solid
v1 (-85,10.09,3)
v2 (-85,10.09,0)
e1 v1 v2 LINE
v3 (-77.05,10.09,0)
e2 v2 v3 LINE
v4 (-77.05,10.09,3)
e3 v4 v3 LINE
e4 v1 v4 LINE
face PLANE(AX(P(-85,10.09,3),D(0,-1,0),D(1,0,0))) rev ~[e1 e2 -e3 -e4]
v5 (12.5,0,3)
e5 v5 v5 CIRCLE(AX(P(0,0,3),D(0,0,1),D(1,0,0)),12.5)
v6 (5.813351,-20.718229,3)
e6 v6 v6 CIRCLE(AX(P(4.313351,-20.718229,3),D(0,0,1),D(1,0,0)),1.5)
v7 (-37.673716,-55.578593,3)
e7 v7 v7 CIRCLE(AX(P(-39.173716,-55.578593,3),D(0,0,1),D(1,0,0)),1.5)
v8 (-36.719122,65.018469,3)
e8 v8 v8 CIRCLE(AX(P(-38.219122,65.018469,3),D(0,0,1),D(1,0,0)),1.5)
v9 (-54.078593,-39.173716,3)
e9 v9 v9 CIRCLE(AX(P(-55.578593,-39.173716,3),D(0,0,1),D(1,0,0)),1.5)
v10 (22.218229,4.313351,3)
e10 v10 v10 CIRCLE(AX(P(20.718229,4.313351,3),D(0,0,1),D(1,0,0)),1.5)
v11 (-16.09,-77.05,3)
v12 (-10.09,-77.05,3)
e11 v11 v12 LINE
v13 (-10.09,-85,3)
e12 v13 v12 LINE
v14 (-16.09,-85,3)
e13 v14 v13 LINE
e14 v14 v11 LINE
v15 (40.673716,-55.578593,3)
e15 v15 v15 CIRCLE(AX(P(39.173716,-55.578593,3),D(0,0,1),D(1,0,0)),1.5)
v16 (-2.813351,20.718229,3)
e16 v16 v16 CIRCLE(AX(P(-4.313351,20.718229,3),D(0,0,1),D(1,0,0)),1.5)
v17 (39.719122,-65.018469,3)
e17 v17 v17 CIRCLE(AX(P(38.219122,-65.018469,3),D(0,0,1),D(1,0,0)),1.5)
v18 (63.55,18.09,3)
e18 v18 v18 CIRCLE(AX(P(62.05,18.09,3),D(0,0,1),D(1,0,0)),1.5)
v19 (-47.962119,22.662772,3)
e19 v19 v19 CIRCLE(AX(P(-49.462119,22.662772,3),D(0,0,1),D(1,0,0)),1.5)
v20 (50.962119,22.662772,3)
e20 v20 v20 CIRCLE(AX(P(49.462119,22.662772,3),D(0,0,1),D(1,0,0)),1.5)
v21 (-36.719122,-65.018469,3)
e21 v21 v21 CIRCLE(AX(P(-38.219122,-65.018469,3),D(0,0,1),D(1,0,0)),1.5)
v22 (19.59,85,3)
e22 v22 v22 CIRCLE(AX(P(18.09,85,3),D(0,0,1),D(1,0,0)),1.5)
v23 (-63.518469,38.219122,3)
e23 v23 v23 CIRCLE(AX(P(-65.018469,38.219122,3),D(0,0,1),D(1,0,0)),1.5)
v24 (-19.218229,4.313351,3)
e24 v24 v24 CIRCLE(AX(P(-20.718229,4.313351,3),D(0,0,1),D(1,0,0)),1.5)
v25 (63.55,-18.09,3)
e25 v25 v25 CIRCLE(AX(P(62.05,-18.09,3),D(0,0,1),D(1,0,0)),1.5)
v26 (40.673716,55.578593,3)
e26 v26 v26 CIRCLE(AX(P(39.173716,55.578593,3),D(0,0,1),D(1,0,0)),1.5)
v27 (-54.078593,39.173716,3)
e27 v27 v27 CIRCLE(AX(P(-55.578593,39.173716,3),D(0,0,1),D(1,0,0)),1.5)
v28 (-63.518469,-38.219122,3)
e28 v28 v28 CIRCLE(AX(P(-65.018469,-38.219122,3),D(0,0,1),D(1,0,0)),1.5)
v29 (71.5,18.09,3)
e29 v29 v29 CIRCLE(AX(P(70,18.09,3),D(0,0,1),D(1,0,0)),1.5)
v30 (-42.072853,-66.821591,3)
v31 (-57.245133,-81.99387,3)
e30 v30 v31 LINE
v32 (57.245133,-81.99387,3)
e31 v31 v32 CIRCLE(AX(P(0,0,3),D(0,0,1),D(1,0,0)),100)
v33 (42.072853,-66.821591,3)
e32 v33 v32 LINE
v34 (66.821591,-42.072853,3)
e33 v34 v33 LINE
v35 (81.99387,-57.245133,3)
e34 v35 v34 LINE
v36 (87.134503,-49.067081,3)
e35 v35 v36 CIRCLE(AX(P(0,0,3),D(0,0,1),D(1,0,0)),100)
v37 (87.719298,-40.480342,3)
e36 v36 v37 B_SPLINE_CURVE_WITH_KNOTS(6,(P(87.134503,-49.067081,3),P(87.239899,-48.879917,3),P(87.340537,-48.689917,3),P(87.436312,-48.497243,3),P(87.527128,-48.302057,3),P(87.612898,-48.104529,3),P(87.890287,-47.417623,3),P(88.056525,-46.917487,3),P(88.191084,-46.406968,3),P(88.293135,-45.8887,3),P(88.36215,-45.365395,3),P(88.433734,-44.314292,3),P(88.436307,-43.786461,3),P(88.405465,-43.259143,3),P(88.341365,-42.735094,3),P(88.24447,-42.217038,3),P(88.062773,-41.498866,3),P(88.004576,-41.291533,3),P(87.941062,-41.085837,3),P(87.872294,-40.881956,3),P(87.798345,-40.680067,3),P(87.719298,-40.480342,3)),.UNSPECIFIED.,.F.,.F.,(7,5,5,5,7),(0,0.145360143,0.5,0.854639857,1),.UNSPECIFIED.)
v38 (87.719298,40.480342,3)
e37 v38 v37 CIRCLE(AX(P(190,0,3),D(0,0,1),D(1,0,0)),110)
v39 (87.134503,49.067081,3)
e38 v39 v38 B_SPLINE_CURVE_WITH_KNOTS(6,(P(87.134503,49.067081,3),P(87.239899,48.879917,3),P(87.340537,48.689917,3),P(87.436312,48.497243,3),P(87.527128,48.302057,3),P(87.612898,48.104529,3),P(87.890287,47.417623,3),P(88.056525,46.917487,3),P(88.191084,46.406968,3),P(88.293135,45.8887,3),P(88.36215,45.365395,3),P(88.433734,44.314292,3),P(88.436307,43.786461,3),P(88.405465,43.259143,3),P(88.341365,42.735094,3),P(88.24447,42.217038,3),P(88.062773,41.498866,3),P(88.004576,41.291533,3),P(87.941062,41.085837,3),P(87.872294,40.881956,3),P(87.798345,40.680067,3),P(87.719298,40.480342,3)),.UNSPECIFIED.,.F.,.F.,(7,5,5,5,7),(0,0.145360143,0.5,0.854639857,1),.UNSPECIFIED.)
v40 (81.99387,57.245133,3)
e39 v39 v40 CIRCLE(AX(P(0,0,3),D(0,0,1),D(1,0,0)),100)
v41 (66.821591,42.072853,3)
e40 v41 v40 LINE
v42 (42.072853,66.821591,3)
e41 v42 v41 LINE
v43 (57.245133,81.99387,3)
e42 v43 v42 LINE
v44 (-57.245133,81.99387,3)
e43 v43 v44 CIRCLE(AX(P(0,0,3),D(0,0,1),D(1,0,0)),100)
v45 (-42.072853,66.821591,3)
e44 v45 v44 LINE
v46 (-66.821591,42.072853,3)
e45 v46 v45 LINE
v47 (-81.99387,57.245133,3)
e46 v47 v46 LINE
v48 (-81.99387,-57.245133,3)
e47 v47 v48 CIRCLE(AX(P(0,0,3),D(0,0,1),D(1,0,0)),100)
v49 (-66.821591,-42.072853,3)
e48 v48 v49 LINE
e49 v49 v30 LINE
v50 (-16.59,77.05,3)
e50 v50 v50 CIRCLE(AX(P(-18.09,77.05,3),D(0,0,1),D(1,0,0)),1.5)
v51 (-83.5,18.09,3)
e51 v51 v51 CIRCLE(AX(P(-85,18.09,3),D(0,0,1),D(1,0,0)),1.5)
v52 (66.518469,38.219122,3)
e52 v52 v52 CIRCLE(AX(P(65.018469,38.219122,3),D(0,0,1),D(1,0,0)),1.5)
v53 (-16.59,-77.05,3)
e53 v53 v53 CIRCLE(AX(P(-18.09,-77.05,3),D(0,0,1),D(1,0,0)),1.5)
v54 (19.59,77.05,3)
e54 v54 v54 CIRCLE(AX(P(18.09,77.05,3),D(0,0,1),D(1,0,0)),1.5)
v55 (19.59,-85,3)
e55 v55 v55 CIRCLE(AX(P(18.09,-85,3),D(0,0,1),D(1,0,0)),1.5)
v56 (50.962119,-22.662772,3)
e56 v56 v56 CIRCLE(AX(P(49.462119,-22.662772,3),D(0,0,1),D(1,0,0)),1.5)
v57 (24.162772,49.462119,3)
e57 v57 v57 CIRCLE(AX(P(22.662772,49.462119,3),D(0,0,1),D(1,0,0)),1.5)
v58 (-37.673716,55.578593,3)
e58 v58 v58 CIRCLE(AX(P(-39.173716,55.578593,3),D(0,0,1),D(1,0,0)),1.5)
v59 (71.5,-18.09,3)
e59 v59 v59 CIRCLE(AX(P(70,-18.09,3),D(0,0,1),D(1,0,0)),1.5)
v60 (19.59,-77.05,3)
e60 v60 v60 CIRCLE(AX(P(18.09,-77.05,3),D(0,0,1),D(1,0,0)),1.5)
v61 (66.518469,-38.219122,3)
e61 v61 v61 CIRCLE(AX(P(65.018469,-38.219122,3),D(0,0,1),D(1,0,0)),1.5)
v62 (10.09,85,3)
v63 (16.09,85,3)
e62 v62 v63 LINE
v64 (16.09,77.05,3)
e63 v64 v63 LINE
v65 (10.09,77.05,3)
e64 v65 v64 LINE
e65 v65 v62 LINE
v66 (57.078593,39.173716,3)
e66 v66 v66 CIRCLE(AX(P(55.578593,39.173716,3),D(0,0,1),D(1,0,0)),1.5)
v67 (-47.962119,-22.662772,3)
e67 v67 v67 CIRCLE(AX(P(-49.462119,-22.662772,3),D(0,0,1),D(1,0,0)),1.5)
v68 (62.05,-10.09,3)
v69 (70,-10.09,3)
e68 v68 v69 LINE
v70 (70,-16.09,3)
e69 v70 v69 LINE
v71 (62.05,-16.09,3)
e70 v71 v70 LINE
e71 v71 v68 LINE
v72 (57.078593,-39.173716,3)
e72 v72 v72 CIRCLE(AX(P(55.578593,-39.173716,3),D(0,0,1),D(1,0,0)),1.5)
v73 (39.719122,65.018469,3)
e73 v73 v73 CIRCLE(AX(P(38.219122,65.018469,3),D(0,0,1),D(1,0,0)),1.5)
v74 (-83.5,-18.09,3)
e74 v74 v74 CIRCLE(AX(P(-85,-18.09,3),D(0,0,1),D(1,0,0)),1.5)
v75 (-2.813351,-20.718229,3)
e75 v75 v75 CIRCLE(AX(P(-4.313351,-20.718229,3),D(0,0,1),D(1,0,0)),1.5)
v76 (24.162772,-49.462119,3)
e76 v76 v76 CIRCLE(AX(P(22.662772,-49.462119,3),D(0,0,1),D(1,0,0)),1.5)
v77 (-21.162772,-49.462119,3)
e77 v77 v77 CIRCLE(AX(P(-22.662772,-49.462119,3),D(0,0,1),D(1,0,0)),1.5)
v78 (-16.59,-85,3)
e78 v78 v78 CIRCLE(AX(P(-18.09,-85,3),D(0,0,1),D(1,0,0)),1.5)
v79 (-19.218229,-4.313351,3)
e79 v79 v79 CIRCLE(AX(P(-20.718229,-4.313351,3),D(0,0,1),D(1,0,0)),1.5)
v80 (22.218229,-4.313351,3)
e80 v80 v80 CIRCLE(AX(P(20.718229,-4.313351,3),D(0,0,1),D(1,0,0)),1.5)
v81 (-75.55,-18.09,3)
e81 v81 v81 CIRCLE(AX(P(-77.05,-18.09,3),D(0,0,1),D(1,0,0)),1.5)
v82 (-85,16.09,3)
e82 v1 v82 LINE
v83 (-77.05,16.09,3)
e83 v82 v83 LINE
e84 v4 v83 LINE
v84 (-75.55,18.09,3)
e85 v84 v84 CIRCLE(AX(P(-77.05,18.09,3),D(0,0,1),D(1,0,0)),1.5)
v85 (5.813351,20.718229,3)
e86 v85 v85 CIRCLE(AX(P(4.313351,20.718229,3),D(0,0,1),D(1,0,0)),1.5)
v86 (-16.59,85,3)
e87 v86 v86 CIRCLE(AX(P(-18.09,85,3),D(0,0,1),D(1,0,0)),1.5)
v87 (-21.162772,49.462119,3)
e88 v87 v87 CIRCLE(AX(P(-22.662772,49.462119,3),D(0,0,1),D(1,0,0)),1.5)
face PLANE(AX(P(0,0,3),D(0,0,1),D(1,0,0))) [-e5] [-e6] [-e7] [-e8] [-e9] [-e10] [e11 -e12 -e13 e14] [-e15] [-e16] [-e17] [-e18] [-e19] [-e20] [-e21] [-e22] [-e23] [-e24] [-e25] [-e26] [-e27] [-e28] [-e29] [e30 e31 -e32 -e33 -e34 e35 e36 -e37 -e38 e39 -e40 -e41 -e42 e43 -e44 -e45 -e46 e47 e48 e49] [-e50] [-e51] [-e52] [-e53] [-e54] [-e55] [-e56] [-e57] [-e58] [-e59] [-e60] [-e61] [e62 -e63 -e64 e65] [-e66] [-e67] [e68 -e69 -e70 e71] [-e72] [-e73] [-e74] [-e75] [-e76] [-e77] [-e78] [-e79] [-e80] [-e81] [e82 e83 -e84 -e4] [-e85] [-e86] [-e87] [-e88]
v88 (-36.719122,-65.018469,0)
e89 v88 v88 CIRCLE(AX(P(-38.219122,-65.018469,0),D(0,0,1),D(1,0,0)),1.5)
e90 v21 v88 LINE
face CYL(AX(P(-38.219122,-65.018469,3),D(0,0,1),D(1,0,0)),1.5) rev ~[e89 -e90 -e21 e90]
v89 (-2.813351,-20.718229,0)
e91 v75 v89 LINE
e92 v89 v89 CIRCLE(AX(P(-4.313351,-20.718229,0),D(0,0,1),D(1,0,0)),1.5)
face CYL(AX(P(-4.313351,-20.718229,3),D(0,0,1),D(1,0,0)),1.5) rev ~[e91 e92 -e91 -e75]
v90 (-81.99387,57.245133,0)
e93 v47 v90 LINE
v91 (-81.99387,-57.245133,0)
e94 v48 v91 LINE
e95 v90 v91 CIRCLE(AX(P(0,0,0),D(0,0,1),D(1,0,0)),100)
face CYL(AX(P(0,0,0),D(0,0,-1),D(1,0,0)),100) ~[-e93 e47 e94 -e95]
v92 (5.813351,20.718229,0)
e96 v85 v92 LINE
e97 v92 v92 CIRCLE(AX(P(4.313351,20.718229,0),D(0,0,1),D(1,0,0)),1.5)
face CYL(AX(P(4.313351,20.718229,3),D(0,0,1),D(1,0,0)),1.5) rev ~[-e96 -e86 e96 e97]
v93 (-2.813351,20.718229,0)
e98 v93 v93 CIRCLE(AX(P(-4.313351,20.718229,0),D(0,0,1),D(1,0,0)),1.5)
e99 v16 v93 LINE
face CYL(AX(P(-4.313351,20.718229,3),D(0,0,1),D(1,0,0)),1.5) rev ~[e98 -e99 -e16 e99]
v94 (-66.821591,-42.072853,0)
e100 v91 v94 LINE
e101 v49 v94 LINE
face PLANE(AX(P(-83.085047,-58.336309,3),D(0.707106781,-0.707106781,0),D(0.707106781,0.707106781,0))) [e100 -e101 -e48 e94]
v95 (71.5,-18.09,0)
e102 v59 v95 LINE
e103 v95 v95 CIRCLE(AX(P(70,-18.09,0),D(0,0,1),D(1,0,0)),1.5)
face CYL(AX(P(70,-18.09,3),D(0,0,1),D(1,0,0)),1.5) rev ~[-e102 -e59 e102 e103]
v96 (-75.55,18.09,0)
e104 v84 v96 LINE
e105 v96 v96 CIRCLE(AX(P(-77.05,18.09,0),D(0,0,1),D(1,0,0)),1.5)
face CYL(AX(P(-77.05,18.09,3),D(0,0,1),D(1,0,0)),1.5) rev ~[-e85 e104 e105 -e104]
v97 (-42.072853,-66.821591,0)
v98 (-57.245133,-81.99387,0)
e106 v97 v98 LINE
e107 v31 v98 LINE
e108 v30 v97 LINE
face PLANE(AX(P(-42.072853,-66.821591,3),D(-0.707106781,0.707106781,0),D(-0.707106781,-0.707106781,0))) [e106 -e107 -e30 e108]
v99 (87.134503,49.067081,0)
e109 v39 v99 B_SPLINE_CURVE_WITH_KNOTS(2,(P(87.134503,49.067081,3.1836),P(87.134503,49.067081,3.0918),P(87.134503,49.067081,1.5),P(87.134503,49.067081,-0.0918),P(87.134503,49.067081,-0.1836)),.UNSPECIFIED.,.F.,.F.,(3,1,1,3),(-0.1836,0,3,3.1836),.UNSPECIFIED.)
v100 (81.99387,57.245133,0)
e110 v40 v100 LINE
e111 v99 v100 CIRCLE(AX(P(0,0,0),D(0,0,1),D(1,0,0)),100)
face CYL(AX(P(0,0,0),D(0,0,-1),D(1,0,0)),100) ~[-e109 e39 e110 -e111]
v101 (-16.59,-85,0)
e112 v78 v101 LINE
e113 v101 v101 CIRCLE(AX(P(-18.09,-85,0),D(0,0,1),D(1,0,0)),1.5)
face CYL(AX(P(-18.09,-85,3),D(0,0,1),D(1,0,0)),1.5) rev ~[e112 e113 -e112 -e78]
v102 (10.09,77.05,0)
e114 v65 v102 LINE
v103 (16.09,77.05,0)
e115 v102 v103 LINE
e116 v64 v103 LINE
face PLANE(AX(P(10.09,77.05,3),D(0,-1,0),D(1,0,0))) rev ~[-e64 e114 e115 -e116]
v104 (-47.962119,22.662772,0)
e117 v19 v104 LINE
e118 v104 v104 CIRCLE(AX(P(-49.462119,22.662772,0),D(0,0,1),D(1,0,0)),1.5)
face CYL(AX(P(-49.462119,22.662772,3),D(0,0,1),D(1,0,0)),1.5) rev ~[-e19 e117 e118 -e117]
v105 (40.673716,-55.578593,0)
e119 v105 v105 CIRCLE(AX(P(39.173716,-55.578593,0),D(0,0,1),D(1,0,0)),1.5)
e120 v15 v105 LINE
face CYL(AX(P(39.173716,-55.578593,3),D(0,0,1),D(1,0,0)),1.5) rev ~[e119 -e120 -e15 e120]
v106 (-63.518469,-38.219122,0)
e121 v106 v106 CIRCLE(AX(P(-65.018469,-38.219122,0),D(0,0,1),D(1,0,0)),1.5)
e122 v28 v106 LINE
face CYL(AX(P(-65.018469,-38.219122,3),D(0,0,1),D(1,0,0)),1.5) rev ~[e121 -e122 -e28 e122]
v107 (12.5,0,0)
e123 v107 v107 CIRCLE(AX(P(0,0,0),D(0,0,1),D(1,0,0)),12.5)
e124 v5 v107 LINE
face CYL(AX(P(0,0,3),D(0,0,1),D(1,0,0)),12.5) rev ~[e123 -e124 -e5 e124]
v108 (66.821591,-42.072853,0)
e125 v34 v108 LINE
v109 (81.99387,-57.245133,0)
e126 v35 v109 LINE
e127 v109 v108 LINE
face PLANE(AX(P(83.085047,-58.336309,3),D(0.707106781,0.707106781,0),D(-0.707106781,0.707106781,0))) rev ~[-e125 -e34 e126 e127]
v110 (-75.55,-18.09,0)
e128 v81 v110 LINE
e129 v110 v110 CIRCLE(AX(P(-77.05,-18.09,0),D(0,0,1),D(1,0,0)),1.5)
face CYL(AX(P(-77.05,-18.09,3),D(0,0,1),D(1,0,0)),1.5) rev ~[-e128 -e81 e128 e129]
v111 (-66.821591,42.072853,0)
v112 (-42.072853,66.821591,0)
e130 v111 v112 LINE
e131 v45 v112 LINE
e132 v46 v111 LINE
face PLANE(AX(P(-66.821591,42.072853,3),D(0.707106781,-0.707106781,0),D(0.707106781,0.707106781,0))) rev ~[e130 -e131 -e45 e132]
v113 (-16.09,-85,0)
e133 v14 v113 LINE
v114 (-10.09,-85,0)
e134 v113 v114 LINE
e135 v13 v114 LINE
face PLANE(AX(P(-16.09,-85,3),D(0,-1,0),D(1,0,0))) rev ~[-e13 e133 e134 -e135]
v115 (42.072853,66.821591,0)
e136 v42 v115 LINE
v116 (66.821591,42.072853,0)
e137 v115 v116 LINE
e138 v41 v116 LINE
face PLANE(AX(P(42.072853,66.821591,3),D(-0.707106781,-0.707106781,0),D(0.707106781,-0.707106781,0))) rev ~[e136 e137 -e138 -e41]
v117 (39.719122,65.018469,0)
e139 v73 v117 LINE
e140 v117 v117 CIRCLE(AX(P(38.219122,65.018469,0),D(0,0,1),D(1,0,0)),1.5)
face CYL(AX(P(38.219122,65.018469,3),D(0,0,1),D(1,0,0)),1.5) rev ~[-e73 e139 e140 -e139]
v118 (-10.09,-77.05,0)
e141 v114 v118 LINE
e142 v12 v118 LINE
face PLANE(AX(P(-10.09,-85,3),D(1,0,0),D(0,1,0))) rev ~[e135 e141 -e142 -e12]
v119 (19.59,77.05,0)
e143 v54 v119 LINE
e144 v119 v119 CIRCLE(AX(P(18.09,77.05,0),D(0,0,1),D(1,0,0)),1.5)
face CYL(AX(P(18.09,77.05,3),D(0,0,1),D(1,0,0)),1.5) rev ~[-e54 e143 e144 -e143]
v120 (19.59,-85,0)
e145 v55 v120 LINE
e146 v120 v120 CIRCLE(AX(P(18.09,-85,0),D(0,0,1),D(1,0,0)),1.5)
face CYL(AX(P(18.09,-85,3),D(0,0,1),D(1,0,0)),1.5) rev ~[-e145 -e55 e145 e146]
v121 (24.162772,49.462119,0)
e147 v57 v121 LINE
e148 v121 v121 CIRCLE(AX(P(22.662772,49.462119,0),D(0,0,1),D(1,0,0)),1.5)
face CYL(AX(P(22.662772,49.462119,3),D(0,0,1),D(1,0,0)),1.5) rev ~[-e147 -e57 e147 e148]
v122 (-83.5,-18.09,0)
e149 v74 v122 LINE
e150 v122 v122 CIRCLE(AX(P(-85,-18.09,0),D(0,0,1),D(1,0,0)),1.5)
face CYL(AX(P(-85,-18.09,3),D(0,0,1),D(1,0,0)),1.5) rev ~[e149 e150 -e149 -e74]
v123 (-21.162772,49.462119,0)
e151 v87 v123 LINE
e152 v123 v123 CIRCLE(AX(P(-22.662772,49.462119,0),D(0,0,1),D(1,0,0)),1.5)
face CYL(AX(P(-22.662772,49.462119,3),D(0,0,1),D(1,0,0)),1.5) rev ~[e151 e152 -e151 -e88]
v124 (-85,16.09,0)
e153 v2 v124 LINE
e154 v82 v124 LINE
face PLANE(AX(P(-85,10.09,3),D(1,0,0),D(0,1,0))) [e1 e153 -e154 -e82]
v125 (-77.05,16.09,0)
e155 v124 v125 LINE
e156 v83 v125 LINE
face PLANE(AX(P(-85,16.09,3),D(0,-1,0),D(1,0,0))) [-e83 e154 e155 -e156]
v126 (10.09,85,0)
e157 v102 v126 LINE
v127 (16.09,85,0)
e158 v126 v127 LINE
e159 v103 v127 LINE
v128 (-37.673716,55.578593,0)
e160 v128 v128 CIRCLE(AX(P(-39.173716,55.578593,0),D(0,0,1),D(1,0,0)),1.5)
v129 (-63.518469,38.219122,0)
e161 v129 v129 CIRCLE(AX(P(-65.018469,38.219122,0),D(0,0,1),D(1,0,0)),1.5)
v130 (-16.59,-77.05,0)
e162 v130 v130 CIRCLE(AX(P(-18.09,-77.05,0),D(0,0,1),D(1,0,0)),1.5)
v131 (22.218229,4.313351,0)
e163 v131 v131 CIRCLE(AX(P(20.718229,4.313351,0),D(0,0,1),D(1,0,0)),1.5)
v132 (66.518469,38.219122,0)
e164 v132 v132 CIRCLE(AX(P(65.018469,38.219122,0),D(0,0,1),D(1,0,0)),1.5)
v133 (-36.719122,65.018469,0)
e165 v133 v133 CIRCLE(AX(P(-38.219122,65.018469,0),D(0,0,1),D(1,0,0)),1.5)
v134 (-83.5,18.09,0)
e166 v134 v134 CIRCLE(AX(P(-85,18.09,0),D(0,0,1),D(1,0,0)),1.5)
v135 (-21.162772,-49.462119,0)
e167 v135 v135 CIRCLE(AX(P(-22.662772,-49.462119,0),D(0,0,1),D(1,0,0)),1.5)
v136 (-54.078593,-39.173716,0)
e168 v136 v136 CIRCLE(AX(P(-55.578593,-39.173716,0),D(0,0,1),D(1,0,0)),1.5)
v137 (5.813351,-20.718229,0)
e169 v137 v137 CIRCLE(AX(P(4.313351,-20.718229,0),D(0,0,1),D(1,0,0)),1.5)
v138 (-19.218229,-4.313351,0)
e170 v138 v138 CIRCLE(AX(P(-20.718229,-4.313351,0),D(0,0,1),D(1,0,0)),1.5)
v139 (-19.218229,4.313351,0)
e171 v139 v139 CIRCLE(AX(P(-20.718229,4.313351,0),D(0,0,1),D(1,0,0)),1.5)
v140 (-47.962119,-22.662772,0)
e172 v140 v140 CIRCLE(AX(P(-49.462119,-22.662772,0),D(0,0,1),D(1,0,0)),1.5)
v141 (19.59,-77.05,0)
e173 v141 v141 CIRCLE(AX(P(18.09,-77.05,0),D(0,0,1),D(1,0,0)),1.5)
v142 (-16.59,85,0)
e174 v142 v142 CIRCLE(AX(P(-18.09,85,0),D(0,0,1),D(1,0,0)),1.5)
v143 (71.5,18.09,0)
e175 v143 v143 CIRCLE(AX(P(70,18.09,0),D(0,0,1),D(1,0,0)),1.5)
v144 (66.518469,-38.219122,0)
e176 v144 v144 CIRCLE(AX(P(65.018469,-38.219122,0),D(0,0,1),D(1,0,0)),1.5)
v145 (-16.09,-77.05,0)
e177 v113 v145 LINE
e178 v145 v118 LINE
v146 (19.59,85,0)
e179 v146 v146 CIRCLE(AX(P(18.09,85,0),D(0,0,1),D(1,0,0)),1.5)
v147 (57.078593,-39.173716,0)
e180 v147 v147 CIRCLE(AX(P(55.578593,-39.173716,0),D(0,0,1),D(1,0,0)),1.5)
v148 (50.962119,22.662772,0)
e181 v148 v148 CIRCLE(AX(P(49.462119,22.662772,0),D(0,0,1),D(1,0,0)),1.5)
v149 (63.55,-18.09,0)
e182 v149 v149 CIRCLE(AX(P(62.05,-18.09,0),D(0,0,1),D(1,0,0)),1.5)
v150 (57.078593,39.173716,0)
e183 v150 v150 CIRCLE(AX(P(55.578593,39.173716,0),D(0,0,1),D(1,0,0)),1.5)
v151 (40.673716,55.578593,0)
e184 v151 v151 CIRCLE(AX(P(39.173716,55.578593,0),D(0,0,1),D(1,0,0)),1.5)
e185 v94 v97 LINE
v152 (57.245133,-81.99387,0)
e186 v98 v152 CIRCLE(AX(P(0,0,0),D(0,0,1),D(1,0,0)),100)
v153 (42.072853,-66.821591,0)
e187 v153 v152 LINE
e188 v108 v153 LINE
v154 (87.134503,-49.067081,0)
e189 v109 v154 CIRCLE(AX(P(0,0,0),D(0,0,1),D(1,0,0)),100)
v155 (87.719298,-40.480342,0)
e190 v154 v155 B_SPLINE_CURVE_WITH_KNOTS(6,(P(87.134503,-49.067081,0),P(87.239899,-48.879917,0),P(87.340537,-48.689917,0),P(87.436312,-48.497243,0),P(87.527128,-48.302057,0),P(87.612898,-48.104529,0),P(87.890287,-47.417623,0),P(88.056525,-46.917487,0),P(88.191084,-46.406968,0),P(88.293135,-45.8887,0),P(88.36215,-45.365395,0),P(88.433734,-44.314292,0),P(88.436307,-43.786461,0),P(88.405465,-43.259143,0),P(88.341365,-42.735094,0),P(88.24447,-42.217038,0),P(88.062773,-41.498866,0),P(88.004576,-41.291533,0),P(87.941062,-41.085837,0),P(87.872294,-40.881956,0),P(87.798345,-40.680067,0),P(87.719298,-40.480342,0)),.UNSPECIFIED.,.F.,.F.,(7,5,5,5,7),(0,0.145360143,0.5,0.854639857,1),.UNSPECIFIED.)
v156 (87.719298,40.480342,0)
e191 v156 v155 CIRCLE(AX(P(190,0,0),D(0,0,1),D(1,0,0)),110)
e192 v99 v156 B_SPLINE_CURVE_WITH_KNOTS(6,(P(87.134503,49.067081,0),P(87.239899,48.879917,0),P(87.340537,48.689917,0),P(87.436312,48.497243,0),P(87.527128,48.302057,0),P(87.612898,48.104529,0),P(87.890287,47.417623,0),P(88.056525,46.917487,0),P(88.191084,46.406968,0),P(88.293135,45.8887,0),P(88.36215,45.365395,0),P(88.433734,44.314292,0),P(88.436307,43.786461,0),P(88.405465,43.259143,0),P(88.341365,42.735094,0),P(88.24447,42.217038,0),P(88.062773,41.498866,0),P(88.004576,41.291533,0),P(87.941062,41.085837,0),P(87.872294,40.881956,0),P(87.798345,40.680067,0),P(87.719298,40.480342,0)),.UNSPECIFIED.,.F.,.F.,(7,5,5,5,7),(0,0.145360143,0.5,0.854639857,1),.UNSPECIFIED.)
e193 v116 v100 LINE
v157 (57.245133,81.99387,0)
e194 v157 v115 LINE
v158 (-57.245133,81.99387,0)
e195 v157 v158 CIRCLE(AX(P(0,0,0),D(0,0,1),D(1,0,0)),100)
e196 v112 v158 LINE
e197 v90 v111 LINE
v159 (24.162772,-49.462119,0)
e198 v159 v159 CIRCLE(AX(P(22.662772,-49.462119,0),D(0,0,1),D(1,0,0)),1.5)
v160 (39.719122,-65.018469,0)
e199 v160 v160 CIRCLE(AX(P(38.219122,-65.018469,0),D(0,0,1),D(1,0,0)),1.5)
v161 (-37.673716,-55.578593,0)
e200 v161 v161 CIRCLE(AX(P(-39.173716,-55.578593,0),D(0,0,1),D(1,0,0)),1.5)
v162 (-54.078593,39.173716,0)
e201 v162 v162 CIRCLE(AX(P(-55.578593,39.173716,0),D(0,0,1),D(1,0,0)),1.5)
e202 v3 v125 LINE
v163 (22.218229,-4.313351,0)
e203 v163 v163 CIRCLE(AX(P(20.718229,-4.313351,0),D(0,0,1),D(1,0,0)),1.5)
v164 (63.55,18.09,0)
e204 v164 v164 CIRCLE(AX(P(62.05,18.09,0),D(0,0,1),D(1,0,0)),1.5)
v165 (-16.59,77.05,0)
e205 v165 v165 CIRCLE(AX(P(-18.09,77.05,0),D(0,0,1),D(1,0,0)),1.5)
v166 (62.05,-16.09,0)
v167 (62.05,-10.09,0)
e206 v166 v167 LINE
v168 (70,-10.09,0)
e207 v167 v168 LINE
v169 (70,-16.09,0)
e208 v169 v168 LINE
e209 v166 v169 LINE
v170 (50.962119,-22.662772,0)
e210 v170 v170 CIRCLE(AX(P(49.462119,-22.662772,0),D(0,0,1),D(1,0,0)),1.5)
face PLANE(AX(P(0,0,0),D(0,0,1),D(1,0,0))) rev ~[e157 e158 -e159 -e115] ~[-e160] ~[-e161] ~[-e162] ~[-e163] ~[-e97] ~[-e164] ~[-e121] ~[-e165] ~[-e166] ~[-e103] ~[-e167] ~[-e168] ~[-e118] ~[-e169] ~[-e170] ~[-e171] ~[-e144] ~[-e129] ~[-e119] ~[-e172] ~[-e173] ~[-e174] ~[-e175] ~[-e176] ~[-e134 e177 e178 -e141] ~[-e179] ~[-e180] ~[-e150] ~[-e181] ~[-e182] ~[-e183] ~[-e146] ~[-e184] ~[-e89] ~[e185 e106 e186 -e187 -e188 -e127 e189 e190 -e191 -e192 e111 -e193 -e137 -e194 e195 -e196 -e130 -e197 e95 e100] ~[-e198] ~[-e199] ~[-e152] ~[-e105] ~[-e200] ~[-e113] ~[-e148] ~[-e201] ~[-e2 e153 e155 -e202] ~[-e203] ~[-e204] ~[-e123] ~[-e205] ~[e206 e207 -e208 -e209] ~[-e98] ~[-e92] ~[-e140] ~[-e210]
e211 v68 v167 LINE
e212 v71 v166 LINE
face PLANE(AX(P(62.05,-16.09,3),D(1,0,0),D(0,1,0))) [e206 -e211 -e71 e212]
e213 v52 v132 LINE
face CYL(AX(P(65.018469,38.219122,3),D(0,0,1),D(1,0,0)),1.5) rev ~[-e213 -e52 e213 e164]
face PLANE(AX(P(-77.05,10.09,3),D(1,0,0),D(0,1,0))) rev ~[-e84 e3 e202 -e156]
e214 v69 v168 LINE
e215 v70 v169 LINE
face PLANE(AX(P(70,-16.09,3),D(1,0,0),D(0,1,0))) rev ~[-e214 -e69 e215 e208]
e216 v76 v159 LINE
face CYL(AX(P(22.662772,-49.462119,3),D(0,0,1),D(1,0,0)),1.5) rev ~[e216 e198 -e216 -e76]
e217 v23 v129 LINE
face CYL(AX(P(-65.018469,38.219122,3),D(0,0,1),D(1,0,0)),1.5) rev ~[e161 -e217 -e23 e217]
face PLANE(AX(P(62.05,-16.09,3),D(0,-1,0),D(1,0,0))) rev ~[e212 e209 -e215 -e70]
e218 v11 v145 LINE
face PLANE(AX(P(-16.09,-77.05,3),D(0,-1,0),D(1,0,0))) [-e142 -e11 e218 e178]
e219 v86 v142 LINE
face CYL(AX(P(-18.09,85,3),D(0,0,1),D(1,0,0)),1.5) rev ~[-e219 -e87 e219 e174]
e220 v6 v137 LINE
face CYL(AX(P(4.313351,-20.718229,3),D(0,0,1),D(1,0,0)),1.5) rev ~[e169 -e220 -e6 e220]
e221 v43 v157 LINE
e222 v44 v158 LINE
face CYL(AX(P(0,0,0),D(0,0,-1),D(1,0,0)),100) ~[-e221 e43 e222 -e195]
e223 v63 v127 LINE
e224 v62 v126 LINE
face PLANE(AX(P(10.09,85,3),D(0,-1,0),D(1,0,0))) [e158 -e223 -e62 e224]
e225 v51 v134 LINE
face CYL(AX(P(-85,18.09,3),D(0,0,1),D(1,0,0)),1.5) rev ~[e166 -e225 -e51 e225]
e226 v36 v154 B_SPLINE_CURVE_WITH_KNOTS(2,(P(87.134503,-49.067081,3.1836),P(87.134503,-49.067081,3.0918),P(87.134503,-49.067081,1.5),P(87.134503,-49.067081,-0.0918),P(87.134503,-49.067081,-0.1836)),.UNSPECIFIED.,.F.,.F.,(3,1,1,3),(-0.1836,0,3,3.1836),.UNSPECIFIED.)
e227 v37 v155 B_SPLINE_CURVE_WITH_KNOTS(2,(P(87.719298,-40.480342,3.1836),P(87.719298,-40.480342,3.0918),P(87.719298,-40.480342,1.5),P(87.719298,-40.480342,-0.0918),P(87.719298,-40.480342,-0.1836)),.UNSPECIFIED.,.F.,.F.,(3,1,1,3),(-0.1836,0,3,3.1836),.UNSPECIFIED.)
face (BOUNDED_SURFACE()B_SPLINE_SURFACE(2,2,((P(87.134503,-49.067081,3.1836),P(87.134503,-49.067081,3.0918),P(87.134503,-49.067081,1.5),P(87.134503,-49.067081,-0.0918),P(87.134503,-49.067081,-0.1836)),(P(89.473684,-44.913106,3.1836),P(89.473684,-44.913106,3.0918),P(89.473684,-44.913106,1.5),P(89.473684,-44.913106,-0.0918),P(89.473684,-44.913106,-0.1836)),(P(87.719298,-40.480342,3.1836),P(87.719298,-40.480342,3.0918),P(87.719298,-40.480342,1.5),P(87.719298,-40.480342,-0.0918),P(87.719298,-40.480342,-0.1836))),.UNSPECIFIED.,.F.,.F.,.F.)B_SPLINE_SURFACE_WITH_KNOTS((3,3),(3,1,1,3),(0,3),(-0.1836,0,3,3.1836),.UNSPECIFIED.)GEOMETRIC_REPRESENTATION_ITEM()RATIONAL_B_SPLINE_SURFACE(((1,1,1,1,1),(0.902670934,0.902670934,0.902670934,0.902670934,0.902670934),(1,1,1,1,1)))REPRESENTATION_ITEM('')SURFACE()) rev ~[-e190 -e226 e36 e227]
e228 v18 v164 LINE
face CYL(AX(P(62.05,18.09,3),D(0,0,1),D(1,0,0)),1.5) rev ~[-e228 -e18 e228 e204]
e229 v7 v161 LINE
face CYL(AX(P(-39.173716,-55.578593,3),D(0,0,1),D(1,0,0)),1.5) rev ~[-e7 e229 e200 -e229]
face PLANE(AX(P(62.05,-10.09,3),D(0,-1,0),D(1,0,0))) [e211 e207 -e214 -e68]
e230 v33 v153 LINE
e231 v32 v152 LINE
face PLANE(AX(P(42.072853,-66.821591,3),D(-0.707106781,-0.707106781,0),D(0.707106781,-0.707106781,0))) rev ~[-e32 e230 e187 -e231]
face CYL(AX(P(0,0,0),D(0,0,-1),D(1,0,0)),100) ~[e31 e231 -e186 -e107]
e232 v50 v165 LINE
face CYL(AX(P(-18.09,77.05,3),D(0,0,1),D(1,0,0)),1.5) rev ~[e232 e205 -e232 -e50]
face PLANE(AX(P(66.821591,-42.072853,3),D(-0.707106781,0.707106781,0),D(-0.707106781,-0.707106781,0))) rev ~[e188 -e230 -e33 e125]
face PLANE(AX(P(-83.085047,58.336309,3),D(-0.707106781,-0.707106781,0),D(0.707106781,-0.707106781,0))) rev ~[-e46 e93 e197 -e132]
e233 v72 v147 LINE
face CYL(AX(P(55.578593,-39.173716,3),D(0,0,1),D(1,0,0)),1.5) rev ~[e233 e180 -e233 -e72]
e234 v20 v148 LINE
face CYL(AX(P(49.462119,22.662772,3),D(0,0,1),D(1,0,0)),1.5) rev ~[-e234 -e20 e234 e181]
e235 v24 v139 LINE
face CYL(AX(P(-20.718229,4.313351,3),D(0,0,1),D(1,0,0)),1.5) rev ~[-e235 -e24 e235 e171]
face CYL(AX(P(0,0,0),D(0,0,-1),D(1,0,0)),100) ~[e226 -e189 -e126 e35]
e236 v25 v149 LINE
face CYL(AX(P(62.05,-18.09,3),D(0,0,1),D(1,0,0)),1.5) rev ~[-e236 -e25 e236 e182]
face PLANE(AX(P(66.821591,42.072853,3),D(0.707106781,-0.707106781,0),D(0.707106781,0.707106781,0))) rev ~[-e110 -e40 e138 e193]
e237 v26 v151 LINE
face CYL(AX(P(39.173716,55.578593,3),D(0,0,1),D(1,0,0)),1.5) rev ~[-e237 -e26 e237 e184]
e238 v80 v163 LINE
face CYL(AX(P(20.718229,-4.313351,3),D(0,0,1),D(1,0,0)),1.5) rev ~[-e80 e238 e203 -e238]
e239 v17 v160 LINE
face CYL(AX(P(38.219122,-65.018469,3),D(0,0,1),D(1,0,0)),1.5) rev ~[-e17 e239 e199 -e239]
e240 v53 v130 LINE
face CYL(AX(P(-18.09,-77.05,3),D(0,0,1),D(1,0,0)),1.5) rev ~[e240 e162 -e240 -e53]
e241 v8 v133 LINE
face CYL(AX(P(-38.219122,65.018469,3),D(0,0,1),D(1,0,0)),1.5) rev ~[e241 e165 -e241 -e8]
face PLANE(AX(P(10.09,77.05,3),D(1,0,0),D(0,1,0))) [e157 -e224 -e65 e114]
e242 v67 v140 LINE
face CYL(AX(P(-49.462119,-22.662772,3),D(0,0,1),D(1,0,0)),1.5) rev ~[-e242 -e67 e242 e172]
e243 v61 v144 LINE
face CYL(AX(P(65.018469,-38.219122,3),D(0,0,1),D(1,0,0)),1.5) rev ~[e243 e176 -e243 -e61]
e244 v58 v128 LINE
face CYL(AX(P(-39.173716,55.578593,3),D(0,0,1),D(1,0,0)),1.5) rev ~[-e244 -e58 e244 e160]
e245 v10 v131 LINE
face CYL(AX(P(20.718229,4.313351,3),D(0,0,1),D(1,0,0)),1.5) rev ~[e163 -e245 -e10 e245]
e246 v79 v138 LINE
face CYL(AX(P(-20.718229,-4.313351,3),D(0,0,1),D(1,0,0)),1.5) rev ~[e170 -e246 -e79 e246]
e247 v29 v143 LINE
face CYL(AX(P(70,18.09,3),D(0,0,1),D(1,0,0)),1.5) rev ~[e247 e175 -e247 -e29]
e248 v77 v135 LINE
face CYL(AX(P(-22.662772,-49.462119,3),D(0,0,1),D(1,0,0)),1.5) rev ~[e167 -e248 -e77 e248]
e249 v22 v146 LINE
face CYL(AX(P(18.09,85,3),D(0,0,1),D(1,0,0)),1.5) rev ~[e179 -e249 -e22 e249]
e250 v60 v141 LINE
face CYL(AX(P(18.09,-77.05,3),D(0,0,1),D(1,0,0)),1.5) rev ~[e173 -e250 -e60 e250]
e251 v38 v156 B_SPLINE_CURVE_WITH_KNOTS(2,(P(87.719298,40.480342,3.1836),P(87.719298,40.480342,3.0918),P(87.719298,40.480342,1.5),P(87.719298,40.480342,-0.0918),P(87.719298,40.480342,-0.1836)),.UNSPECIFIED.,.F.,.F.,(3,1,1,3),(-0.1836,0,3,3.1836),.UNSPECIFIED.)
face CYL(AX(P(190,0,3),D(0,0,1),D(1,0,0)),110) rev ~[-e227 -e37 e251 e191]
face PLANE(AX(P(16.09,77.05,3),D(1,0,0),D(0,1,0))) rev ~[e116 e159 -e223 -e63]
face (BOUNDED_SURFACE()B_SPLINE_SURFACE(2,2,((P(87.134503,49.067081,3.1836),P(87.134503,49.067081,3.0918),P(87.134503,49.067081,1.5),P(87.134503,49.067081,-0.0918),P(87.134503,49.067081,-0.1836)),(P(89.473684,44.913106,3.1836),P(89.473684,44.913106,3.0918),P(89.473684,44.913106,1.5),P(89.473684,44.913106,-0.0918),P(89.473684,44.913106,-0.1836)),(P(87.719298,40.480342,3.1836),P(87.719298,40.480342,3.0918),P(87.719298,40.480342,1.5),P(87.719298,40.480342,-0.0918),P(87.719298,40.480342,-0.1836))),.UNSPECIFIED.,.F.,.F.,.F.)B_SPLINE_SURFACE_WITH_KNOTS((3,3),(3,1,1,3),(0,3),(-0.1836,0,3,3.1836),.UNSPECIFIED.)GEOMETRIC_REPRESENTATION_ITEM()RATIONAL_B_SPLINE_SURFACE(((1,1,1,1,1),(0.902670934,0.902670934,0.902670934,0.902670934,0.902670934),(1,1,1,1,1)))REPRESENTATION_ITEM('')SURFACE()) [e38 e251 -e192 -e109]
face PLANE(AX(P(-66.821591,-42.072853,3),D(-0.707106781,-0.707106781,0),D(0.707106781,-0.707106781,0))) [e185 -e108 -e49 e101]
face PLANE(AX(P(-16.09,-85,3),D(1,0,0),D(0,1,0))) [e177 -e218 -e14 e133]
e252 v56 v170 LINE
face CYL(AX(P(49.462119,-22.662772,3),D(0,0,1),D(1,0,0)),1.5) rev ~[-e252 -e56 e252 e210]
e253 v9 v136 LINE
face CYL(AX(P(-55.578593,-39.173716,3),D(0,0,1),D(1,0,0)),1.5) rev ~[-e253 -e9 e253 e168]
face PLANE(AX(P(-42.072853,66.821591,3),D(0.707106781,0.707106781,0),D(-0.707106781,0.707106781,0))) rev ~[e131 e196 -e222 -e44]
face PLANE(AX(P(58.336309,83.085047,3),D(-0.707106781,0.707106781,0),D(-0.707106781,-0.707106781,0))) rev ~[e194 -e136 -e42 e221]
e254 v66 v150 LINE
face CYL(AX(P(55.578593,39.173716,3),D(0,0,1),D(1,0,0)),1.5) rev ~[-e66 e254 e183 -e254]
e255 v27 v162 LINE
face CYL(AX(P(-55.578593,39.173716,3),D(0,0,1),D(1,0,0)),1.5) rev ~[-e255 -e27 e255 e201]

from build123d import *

# Parameters (mm, degrees)
CROQUIS1_R              = 100
SALIENTE_EXTRUIR1_DEPTH = 3
CROQUIS3_R              = 110
CORTAR_EXTRUIR1_DEPTH   = 3
REDONDEO1_R             = 10
CROQUIS4_R              = 1.5
CROQUIS4_R_2            = 12.5
CORTAR_EXTRUIR2_DEPTH   = 142.453172607
CROQUIS6_R              = 1.5
CROQUIS6_W              = 7.95
CROQUIS6_H              = 6
CROQUIS6_W_2            = 6
CROQUIS6_H_2            = 7.95
CORTAR_EXTRUIR3_DEPTH   = 10
CROQUIS8_R              = 1.5
CORTAR_EXTRUIR5_DEPTH   = 142.453172607


with BuildPart() as part:
    # Croquis1 → Saliente-Extruir1 (new body)
    with BuildSketch(Plane.XY):
        Circle(CROQUIS1_R)
    extrude(amount=SALIENTE_EXTRUIR1_DEPTH)

    # Croquis3 → Cortar-Extruir1 (cut)
    with BuildSketch(Plane.XY.offset(3)):
        with Locations((190, 0)):
            Circle(CROQUIS3_R)
    extrude(amount=-CORTAR_EXTRUIR1_DEPTH, mode=Mode.SUBTRACT)

    # Redondeo1
    redondeo1_edges = [part.edges().sort_by_distance(p)[0] for p in [
        (89.473684211, -44.659375654, 1.5),
        (89.473684211, 44.659375654, 1.5),
    ]]
    fillet(redondeo1_edges, radius=REDONDEO1_R)

    # Croquis4 → Cortar-Extruir2 (cut, through all)
    with BuildSketch(Plane.XY.offset(3)):
        with Locations((-65.01846853, -38.219121523)):
            Circle(CROQUIS4_R)
        with Locations((-49.462119344, -22.662772337)):
            Circle(CROQUIS4_R)
        with Locations((-22.662772337, -49.462119344)):
            Circle(CROQUIS4_R)
        with Locations((-38.219121523, -65.01846853)):
            Circle(CROQUIS4_R)
        with Locations((-22.662772337, 49.462119344)):
            Circle(CROQUIS4_R)
        with Locations((-38.219121523, 65.01846853)):
            Circle(CROQUIS4_R)
        with Locations((-49.462119344, 22.662772337)):
            Circle(CROQUIS4_R)
        with Locations((-65.01846853, 38.219121523)):
            Circle(CROQUIS4_R)
        with Locations((49.462119344, 22.662772337)):
            Circle(CROQUIS4_R)
        with Locations((65.01846853, 38.219121523)):
            Circle(CROQUIS4_R)
        with Locations((22.662772337, 49.462119344)):
            Circle(CROQUIS4_R)
        with Locations((38.219121523, 65.01846853)):
            Circle(CROQUIS4_R)
        with Locations((22.662772337, -49.462119344)):
            Circle(CROQUIS4_R)
        with Locations((38.219121523, -65.01846853)):
            Circle(CROQUIS4_R)
        with Locations((49.462119344, -22.662772337)):
            Circle(CROQUIS4_R)
        with Locations((65.01846853, -38.219121523)):
            Circle(CROQUIS4_R)
        Circle(CROQUIS4_R_2)
        Polygon((-58.336309448, -83.085046789), (-83.085046789, -58.336309448), (-66.821590822, -42.072853481), (-42.072853481, -66.821590822), align=None)
        Polygon((-66.821590822, 42.072853481), (-42.072853481, 66.821590822), (-58.336309448, 83.085046789), (-83.085046789, 58.336309448), align=None)
        Polygon((42.072853481, 66.821590822), (66.821590822, 42.072853481), (83.085046789, 58.336309448), (58.336309448, 83.085046789), align=None)
        Polygon((66.821590822, -42.072853481), (42.072853481, -66.821590822), (58.336309448, -83.085046789), (83.085046789, -58.336309448), align=None)
    extrude(amount=-CORTAR_EXTRUIR2_DEPTH, mode=Mode.SUBTRACT)

    # Croquis6 → Cortar-Extruir3 (cut)
    with BuildSketch(Plane.XY.offset(3)):
        with Locations((70, 18.09)):
            Circle(CROQUIS6_R)
        with Locations((62.05, 18.09)):
            Circle(CROQUIS6_R)
        with Locations((62.05, -18.09)):
            Circle(CROQUIS6_R)
        with Locations((-18.09, 85)):
            Circle(CROQUIS6_R)
        with Locations((-18.09, 77.05)):
            Circle(CROQUIS6_R)
        with Locations((18.09, 85)):
            Circle(CROQUIS6_R)
        with Locations((18.09, 77.05)):
            Circle(CROQUIS6_R)
        with Locations((70, -18.09)):
            Circle(CROQUIS6_R)
        with Locations((18.09, -77.05)):
            Circle(CROQUIS6_R)
        with Locations((18.09, -85)):
            Circle(CROQUIS6_R)
        with Locations((-18.09, -85)):
            Circle(CROQUIS6_R)
        with Locations((-18.09, -77.05)):
            Circle(CROQUIS6_R)
        with Locations((-77.05, -18.09)):
            Circle(CROQUIS6_R)
        with Locations((-85, -18.09)):
            Circle(CROQUIS6_R)
        with Locations((-85, 18.09)):
            Circle(CROQUIS6_R)
        with Locations((-77.05, 18.09)):
            Circle(CROQUIS6_R)
        with Locations((66.025, -13.09)):
            Rectangle(CROQUIS6_W, CROQUIS6_H)
        with Locations((13.09, 81.025)):
            Rectangle(CROQUIS6_W_2, CROQUIS6_H_2)
        with Locations((-13.09, -81.025)):
            Rectangle(CROQUIS6_W_2, CROQUIS6_H_2)
        with Locations((-81.025, 13.09)):
            Rectangle(CROQUIS6_W, CROQUIS6_H)
    extrude(amount=-CORTAR_EXTRUIR3_DEPTH, mode=Mode.SUBTRACT)

    # Croquis8 → Cortar-Extruir5 (cut, through all)
    with BuildSketch(Plane.XY.offset(3)):
        with Locations((-55.578593001, 39.173715678)):
            Circle(CROQUIS8_R)
        with Locations((-39.173715678, 55.578593001)):
            Circle(CROQUIS8_R)
        with Locations((-20.718228689, 4.313351365)):
            Circle(CROQUIS8_R)
        with Locations((-4.313351365, 20.718228689)):
            Circle(CROQUIS8_R)
        with Locations((39.173715678, 55.578593001)):
            Circle(CROQUIS8_R)
        with Locations((55.578593001, 39.173715678)):
            Circle(CROQUIS8_R)
        with Locations((20.718228689, 4.313351365)):
            Circle(CROQUIS8_R)
        with Locations((4.313351365, 20.718228689)):
            Circle(CROQUIS8_R)
        with Locations((55.578593001, -39.173715678)):
            Circle(CROQUIS8_R)
        with Locations((39.173715678, -55.578593001)):
            Circle(CROQUIS8_R)
        with Locations((4.313351365, -20.718228689)):
            Circle(CROQUIS8_R)
        with Locations((20.718228689, -4.313351365)):
            Circle(CROQUIS8_R)
        with Locations((-39.173715678, -55.578593001)):
            Circle(CROQUIS8_R)
        with Locations((-55.578593001, -39.173715678)):
            Circle(CROQUIS8_R)
        with Locations((-20.718228689, -4.313351365)):
            Circle(CROQUIS8_R)
        with Locations((-4.313351365, -20.718228689)):
            Circle(CROQUIS8_R)
    extrude(amount=-CORTAR_EXTRUIR5_DEPTH, mode=Mode.SUBTRACT)


solid = part.part
